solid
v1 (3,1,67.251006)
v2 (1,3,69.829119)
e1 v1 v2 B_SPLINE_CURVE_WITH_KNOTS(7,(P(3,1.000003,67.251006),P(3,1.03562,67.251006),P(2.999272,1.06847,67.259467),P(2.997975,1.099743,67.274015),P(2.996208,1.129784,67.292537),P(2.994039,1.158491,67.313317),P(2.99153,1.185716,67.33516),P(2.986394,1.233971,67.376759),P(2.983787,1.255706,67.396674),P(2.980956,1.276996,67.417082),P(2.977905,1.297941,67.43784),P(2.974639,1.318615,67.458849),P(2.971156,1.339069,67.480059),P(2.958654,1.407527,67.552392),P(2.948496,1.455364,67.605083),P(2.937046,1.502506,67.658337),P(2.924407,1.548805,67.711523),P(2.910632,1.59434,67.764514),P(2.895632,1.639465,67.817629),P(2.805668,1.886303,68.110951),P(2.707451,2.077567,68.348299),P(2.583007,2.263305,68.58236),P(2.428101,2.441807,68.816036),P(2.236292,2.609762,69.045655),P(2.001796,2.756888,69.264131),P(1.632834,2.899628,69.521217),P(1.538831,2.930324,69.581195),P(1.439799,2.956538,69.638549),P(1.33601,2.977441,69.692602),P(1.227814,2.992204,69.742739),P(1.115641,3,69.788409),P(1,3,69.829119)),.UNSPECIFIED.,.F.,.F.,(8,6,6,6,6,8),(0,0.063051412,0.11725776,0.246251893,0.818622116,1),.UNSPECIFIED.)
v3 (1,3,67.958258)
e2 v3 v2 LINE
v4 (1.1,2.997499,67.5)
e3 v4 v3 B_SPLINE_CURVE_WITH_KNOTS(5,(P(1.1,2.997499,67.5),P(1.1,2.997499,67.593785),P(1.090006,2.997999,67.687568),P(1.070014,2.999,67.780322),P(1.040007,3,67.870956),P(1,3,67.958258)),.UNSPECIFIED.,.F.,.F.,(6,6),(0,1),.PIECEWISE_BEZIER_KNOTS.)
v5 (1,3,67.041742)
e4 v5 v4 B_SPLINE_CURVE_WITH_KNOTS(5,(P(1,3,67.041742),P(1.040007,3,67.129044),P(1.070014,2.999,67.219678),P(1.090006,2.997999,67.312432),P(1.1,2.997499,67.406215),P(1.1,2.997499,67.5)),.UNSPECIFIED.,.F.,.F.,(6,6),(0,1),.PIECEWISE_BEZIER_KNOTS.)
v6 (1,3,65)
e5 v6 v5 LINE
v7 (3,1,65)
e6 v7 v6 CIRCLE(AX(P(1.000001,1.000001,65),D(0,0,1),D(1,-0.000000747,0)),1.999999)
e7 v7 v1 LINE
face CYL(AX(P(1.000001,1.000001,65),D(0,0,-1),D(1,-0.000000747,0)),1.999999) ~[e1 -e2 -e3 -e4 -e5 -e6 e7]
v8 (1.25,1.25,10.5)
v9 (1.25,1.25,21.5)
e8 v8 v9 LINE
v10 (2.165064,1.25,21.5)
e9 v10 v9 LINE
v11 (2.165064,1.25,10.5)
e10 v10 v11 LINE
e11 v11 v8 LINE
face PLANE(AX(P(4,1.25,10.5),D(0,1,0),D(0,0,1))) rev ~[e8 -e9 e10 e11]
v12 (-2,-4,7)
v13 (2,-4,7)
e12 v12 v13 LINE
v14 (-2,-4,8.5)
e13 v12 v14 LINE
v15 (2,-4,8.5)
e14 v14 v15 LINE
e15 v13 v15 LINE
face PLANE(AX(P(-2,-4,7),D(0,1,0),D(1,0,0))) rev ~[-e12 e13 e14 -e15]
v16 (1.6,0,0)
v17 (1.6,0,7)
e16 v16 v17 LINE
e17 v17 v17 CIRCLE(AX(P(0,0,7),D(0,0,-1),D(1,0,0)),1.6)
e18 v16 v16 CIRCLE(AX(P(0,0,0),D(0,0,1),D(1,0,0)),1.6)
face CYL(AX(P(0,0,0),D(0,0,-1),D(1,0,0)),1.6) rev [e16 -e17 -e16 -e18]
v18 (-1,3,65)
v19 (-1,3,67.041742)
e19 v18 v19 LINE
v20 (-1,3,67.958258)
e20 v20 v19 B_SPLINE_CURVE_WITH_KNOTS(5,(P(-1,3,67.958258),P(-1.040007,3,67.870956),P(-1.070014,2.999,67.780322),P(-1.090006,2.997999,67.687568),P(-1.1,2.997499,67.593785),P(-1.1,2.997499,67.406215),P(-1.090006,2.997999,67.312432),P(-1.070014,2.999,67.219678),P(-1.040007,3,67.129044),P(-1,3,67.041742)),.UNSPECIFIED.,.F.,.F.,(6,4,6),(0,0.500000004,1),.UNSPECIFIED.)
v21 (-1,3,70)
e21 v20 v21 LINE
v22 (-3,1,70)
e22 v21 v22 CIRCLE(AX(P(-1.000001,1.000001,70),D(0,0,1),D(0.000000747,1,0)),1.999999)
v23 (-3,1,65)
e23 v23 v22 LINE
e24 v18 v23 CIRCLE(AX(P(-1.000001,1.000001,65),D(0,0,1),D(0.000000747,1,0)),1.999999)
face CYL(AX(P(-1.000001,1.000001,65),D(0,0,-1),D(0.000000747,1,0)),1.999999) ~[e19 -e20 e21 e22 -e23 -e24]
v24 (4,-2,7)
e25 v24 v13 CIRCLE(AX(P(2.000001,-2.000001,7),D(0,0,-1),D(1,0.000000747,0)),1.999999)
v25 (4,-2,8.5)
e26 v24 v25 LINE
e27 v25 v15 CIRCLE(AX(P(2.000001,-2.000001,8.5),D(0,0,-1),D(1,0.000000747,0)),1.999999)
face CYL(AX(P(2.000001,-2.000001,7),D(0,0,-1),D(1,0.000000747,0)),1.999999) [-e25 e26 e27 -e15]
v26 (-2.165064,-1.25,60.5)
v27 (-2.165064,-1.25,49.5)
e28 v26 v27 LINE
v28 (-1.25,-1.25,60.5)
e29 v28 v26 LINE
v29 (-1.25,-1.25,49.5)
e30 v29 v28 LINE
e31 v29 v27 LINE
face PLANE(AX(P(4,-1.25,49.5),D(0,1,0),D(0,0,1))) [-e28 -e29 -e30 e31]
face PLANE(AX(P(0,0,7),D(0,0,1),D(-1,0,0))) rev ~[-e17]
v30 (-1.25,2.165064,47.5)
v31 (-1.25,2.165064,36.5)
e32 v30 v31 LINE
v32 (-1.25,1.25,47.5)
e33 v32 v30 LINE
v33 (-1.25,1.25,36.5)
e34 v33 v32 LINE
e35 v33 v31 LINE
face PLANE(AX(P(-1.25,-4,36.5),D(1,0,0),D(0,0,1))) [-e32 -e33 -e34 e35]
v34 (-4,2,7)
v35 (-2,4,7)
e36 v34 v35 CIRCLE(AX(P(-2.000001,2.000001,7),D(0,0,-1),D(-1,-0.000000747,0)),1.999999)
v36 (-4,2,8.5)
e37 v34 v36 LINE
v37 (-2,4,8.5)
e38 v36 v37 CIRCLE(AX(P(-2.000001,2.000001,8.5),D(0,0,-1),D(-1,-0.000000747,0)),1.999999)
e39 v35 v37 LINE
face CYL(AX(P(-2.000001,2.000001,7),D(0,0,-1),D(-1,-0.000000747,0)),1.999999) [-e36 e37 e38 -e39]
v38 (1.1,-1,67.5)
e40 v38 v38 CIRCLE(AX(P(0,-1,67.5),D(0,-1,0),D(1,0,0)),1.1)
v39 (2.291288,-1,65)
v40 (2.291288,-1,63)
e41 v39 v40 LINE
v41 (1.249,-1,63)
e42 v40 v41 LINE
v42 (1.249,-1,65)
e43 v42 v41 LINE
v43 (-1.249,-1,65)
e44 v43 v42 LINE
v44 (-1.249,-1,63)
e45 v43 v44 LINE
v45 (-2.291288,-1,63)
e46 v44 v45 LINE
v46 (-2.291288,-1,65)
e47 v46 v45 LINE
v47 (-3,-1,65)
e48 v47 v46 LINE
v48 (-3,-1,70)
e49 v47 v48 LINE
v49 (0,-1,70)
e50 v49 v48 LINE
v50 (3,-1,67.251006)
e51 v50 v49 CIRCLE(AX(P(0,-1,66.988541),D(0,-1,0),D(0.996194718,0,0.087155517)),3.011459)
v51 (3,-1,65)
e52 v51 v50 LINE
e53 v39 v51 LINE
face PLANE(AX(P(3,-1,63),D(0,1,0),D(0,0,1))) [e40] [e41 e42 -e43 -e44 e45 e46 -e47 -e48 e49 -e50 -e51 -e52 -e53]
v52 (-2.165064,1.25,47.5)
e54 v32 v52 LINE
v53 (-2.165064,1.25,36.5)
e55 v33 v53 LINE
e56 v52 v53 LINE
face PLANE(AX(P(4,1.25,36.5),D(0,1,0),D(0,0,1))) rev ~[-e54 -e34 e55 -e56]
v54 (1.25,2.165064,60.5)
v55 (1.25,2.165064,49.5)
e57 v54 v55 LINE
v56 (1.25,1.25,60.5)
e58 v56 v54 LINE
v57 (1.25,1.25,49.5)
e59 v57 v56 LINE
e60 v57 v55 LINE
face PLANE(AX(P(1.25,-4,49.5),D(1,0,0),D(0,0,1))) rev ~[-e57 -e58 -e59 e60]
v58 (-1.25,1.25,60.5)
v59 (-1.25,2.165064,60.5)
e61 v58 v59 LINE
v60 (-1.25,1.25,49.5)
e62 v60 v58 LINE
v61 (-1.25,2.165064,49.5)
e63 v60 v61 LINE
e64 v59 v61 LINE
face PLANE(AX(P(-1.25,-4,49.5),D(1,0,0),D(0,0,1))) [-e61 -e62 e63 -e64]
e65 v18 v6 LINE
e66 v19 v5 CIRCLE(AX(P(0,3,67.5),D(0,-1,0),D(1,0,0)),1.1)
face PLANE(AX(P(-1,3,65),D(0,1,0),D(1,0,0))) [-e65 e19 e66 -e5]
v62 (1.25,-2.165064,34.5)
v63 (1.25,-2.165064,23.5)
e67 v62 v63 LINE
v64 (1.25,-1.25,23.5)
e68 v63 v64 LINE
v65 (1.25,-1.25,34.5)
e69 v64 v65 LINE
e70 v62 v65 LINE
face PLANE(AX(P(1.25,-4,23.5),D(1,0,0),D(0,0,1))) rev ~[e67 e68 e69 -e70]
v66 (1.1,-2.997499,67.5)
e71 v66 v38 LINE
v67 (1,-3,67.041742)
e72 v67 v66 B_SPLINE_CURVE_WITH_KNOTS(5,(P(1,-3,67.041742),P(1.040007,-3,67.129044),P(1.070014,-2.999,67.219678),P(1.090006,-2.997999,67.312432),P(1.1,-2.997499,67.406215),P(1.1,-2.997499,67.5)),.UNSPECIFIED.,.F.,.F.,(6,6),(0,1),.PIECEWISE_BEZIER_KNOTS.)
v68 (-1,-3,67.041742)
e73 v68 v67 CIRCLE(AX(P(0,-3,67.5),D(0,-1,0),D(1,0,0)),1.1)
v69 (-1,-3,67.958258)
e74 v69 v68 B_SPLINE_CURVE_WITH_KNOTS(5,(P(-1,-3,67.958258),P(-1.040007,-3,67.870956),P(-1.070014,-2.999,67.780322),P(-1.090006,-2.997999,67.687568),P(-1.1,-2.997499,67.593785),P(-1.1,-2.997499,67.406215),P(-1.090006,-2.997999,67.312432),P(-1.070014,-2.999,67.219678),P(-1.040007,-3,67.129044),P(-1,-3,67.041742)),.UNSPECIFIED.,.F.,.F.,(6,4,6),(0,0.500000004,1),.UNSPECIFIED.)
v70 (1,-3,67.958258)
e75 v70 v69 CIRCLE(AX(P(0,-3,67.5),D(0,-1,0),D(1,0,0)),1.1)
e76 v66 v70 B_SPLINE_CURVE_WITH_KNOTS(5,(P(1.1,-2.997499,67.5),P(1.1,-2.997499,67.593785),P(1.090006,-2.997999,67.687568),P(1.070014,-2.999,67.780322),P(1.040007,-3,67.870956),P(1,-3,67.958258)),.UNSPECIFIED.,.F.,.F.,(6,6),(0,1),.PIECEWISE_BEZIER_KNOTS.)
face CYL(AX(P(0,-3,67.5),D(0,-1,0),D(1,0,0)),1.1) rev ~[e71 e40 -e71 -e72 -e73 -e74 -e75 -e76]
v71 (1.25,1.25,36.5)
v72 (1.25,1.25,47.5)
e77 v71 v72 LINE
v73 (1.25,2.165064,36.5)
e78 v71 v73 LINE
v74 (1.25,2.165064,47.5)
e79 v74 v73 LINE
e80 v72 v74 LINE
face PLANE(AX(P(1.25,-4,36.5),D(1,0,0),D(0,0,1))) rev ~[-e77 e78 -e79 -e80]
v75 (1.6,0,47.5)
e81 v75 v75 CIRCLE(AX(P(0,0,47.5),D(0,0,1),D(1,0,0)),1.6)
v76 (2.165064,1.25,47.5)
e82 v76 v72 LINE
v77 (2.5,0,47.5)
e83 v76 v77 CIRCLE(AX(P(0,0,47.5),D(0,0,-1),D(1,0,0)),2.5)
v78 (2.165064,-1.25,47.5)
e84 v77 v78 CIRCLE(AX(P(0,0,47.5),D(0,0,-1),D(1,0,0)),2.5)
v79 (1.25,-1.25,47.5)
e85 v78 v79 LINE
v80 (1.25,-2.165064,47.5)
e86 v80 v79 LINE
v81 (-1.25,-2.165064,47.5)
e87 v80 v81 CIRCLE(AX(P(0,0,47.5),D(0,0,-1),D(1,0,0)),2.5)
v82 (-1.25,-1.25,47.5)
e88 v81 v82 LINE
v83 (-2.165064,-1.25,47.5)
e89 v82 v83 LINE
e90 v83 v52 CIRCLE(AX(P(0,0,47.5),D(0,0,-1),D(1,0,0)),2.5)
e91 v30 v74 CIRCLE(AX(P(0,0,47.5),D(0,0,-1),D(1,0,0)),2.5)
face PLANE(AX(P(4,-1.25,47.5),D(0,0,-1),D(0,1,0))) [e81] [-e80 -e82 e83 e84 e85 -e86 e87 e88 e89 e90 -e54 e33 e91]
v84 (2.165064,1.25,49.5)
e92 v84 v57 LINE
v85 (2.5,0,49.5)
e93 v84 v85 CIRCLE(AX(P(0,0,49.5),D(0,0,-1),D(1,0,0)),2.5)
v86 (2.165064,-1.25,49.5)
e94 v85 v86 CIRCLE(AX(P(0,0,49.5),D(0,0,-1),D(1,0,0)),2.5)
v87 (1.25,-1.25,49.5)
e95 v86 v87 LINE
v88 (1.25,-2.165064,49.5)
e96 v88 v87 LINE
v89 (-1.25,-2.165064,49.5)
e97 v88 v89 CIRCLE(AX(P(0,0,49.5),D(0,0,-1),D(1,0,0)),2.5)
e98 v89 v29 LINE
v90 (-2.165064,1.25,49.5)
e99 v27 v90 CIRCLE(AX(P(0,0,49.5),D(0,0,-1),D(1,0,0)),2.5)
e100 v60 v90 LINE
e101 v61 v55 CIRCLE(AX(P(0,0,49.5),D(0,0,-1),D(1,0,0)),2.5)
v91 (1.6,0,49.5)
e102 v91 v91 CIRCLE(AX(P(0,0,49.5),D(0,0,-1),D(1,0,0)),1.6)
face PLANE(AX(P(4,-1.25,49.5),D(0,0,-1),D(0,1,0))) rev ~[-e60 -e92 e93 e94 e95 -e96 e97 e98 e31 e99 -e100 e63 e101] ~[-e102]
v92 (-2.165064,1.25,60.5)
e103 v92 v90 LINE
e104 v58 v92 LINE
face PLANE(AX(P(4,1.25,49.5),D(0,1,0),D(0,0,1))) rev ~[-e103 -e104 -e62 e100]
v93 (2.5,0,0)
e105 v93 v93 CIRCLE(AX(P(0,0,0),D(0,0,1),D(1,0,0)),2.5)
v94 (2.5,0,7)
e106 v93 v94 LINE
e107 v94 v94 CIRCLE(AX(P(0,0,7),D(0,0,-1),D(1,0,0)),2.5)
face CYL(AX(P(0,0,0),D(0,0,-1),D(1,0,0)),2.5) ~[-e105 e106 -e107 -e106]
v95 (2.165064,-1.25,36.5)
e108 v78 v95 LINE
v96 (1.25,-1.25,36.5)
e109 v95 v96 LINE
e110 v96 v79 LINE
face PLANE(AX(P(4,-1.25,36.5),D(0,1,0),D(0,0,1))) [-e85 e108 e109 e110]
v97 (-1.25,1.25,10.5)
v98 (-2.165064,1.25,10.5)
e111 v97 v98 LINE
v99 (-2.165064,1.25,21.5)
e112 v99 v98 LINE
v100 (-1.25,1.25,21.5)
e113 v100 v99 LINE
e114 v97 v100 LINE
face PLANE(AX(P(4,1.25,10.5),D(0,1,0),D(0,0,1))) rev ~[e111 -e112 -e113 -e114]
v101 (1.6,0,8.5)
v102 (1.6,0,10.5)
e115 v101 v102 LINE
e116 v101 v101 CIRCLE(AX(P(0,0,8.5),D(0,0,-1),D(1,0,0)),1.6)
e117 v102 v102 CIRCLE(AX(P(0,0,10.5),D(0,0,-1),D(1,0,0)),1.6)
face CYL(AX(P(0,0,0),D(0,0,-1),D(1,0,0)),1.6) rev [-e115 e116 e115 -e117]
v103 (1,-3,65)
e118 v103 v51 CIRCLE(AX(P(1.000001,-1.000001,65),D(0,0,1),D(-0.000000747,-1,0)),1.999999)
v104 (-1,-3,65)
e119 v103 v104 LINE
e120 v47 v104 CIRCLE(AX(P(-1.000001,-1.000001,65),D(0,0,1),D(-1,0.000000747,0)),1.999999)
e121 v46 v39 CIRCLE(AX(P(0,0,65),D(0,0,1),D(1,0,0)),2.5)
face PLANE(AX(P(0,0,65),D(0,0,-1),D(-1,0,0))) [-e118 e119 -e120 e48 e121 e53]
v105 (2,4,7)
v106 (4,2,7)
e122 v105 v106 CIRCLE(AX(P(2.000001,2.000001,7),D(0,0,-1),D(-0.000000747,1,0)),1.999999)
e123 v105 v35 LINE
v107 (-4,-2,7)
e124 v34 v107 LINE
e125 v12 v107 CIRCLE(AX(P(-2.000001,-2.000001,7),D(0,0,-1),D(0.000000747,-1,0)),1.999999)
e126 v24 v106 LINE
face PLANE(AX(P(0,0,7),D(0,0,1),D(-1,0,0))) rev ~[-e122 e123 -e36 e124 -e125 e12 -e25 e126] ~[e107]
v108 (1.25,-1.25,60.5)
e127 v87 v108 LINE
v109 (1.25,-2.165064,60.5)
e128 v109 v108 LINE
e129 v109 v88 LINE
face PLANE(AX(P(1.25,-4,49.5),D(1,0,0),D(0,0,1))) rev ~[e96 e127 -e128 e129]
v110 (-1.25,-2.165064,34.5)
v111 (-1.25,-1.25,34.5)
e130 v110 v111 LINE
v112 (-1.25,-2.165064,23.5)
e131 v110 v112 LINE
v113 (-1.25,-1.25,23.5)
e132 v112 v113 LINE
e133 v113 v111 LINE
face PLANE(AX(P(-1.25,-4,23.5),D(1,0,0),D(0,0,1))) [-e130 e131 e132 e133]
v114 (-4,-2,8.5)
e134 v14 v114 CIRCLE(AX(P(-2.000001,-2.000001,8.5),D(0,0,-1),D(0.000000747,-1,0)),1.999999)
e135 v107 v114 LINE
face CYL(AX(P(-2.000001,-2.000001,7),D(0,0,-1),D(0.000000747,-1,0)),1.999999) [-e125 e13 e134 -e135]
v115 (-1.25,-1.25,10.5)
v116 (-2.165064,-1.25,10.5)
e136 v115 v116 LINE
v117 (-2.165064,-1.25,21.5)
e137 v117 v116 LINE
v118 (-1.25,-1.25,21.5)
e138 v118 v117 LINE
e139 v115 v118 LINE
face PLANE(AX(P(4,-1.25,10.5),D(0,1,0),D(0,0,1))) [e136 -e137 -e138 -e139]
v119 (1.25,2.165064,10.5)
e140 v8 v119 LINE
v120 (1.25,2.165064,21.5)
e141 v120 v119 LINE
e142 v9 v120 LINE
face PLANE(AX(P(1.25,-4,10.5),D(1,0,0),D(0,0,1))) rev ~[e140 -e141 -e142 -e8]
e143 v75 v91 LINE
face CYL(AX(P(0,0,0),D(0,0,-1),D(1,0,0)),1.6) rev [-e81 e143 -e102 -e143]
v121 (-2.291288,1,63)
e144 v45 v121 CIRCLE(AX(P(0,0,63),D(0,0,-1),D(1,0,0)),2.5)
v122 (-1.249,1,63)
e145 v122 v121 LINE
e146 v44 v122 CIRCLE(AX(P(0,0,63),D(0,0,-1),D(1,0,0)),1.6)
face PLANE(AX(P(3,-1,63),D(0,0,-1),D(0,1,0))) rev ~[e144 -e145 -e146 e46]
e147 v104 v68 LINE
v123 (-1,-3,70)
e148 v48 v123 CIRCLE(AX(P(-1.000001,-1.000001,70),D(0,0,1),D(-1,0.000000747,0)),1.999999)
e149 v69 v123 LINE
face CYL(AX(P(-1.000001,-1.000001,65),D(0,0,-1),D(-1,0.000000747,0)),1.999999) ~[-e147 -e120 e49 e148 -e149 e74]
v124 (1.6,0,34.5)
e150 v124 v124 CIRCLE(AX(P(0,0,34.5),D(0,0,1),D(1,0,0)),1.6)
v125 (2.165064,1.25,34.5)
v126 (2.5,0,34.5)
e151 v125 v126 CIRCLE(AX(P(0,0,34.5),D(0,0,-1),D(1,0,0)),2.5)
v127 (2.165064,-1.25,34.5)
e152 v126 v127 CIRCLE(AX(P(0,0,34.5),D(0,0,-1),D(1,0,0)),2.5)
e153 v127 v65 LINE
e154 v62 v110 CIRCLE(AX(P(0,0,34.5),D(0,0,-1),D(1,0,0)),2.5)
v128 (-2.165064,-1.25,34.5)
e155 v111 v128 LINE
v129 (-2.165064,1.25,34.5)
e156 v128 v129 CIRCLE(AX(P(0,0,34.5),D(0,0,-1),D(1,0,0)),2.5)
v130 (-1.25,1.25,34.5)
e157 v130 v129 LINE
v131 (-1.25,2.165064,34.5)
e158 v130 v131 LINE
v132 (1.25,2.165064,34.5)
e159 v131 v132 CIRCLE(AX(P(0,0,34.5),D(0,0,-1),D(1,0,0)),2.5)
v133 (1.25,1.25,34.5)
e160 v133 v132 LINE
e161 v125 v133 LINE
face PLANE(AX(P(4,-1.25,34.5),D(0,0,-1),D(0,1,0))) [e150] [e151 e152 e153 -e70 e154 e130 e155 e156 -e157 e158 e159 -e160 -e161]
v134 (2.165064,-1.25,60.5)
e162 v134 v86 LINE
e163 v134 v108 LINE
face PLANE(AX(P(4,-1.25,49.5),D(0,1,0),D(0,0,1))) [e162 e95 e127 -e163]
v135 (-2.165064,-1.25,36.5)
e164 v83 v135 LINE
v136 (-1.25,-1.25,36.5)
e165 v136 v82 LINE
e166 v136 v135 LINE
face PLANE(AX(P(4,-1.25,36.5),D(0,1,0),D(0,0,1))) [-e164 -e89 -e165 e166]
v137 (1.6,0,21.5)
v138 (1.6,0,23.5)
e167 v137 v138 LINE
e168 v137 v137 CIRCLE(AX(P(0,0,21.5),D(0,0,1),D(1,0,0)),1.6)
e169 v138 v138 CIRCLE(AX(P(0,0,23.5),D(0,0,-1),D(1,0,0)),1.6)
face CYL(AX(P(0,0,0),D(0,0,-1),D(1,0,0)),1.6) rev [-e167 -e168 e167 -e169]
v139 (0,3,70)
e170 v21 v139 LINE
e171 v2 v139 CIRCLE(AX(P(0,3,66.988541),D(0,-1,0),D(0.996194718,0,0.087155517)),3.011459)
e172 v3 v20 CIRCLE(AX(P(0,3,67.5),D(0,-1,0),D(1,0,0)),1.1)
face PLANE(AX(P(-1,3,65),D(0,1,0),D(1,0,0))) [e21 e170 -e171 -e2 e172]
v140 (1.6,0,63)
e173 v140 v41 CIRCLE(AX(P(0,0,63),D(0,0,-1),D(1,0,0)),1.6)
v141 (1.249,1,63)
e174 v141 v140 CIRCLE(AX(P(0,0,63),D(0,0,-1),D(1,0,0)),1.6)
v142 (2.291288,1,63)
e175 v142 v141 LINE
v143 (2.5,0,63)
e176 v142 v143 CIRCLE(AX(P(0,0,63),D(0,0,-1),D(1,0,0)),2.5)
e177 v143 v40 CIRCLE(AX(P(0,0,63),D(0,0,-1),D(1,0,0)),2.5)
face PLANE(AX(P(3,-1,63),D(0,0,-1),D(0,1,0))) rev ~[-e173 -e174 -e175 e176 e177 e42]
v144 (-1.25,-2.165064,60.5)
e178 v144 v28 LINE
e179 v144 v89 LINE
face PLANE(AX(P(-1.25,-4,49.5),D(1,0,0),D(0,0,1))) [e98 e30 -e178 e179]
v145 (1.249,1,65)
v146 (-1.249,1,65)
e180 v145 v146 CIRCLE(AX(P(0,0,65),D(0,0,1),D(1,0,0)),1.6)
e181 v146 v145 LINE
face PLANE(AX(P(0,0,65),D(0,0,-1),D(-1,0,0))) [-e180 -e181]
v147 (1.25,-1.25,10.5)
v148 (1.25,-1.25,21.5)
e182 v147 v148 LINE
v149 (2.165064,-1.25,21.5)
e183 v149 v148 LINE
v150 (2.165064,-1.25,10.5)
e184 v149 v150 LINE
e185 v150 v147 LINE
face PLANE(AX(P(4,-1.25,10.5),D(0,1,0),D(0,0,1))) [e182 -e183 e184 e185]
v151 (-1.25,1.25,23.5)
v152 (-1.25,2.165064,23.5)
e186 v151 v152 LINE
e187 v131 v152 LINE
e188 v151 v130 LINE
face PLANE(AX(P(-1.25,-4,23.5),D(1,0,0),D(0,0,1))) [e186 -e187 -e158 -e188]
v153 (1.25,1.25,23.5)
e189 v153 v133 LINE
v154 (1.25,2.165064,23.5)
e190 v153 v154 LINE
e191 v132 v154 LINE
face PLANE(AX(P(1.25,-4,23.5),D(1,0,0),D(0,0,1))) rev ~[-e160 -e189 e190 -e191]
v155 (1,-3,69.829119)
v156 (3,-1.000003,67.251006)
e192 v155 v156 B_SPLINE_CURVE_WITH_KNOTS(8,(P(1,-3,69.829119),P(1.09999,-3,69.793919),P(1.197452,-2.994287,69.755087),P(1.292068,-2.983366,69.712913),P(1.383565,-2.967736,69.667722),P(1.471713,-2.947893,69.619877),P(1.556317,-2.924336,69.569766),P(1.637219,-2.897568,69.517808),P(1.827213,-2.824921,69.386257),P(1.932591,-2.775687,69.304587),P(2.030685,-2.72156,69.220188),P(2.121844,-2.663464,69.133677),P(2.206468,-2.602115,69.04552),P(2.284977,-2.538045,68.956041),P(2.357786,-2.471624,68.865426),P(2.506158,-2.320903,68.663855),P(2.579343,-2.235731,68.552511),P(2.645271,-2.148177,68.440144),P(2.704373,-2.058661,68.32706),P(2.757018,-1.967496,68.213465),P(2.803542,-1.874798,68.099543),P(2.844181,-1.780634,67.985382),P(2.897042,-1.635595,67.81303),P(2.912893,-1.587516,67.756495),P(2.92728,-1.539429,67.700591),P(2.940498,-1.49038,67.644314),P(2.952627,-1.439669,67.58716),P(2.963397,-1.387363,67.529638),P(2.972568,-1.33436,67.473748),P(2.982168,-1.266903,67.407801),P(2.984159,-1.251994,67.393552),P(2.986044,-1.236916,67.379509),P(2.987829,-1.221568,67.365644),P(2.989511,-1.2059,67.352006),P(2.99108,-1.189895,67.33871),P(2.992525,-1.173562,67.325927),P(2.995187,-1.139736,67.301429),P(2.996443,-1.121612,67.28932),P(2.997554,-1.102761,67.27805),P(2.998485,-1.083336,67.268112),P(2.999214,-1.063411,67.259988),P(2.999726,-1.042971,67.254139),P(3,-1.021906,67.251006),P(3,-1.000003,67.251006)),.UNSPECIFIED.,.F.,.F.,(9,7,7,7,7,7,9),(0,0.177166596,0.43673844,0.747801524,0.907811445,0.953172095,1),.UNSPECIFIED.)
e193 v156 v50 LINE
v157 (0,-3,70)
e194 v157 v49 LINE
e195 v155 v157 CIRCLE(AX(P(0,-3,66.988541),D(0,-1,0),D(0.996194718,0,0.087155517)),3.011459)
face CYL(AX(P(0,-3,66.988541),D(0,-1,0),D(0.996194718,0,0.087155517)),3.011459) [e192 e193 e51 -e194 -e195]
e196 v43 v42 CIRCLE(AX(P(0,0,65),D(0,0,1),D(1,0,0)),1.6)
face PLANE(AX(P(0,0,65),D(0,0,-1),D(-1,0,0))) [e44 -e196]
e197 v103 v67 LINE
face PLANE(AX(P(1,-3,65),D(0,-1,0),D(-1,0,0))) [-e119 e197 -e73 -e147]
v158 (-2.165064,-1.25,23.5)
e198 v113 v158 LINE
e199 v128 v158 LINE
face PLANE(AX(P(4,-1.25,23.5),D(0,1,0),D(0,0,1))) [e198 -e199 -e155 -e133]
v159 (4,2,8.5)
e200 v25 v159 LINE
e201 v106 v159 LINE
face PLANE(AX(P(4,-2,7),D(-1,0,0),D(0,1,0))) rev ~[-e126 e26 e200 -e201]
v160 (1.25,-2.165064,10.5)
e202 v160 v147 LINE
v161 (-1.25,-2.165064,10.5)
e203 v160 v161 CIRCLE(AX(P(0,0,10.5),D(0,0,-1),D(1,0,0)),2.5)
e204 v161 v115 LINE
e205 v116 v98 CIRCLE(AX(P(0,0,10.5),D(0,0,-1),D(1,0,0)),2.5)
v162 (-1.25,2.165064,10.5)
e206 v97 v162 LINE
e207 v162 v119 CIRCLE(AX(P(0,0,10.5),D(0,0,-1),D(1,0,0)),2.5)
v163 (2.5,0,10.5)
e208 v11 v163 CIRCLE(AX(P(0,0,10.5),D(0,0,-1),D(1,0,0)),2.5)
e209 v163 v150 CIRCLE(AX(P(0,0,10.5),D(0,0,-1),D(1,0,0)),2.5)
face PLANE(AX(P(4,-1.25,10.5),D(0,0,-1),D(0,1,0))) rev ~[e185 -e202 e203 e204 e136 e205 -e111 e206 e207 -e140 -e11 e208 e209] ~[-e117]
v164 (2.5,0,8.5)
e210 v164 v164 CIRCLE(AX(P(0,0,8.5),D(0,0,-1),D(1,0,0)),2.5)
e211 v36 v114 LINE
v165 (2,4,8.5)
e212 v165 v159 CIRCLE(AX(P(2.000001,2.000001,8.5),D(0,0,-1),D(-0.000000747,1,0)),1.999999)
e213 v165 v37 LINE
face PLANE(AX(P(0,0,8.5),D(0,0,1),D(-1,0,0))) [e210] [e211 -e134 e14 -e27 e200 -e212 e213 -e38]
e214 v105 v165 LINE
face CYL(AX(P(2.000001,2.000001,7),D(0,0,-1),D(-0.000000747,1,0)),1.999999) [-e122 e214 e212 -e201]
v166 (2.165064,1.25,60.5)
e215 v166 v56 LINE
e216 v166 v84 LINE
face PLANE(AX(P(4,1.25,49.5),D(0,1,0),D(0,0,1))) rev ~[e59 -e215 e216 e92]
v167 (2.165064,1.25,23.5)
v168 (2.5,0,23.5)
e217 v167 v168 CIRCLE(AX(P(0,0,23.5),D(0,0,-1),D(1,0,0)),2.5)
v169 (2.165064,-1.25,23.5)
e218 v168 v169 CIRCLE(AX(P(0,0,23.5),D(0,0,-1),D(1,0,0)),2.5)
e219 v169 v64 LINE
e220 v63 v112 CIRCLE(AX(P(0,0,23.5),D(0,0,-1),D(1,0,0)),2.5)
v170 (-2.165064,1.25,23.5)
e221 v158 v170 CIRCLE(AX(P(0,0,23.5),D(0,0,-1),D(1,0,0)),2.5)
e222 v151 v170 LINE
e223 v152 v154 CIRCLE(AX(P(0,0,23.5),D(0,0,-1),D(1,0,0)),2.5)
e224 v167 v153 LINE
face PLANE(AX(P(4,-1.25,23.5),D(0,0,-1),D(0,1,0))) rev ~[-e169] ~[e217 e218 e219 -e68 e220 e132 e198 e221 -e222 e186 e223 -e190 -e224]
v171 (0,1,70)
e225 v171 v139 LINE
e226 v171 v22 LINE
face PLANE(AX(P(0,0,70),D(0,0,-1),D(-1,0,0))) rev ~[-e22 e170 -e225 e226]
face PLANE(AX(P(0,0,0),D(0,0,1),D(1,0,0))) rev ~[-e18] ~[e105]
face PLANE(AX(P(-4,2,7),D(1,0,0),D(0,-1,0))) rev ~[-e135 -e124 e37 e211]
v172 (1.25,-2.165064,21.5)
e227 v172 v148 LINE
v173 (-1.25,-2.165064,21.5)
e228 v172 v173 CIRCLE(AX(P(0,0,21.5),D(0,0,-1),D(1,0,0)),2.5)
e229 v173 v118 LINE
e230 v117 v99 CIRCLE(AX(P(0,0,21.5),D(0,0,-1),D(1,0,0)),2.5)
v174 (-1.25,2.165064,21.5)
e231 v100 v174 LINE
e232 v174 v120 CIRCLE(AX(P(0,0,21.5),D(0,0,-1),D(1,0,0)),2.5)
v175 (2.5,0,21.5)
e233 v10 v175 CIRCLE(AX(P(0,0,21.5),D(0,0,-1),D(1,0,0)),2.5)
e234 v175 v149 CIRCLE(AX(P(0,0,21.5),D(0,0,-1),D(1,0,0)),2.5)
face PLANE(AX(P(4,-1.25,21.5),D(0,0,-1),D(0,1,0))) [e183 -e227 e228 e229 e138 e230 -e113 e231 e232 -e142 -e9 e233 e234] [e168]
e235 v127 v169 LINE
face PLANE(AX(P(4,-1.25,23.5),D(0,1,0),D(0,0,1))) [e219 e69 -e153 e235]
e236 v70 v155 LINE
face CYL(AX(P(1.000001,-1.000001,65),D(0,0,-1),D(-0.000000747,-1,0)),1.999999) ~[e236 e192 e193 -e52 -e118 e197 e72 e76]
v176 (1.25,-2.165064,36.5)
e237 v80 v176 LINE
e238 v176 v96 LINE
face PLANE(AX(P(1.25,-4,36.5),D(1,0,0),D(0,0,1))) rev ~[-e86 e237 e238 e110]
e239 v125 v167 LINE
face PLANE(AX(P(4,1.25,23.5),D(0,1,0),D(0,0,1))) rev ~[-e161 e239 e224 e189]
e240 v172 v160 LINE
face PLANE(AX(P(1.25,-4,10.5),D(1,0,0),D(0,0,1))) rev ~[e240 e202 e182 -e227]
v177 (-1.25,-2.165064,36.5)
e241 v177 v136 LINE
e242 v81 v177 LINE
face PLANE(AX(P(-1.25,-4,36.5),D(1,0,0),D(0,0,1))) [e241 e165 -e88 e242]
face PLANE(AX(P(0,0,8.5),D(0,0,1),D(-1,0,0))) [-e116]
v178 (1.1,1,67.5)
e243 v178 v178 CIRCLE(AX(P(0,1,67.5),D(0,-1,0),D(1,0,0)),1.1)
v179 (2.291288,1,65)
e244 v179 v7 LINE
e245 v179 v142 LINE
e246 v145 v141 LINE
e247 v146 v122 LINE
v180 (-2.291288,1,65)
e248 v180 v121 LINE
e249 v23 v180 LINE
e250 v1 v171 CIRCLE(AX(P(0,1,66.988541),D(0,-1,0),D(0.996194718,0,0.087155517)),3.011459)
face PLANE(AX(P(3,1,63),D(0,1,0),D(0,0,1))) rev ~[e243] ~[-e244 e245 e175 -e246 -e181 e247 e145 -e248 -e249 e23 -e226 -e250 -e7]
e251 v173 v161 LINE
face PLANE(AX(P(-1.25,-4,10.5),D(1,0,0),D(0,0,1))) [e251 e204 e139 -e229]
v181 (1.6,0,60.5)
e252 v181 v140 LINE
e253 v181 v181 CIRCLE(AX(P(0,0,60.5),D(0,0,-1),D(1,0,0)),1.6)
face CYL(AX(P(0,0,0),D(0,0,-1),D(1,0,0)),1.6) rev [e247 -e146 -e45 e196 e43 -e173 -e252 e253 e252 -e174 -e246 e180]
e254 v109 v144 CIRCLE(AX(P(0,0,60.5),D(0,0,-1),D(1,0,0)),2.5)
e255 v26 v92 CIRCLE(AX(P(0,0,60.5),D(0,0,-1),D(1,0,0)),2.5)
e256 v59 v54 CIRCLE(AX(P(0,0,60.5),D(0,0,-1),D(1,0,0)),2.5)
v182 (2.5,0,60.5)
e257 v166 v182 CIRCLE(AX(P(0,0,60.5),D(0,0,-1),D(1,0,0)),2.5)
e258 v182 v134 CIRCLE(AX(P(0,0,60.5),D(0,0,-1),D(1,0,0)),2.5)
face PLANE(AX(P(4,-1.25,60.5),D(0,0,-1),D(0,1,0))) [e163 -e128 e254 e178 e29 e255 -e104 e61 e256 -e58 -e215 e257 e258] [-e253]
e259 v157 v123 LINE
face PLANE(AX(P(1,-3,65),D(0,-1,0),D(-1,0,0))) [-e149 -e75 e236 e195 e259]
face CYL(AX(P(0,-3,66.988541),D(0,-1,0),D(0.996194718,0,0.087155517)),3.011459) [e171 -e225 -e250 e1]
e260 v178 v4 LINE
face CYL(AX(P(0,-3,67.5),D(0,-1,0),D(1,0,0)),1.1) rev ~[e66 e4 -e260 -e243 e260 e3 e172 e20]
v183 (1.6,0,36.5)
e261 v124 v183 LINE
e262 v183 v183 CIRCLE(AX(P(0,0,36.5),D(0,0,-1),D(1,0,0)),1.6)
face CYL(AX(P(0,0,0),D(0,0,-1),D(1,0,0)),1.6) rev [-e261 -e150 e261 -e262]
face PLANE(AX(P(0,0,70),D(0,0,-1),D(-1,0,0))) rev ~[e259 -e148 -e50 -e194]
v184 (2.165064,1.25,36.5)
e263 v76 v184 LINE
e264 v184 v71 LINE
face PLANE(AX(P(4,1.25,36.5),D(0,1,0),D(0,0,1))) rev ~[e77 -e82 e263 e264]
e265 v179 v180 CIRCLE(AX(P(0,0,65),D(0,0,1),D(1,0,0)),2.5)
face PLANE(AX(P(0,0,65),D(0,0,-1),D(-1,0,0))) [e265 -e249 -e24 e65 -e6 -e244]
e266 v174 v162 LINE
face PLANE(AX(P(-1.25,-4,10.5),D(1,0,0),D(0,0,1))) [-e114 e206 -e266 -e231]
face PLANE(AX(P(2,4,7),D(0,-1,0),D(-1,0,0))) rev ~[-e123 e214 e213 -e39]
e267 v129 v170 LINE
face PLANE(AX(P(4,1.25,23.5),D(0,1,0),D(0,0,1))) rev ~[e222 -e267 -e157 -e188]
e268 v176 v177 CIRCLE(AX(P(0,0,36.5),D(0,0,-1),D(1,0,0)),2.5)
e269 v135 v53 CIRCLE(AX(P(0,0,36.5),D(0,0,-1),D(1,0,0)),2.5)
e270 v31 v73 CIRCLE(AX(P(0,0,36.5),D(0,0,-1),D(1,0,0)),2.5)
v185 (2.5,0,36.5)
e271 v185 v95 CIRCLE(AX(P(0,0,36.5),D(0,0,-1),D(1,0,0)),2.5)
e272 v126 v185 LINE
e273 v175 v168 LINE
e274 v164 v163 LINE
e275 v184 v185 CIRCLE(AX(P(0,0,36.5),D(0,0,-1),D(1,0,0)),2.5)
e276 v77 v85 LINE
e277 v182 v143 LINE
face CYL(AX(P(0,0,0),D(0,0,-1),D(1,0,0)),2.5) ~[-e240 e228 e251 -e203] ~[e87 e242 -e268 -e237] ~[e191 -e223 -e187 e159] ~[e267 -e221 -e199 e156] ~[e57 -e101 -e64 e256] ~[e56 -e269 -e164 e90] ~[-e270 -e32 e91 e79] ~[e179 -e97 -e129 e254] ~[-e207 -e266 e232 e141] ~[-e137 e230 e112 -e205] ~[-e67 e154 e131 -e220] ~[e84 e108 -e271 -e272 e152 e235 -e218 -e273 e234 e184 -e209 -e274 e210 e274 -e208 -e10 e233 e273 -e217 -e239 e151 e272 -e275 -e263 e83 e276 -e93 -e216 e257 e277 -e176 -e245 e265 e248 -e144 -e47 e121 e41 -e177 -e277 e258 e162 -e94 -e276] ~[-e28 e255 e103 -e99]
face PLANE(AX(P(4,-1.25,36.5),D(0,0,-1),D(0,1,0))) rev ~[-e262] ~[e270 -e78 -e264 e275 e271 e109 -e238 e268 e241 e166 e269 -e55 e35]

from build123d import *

# Parameters (mm, degrees)
SKETCH_R        = 2.5
SKETCH_R_2      = 1.6
PAD_DEPTH       = 65
PAD001_DEPTH    = 1.5
PAD002_DEPTH    = 5
SKETCH003_W     = 2
SKETCH003_H     = 7
POCKET_DEPTH    = 7.001
SKETCH004_R     = 1.1
POCKET001_DEPTH = 7.001
SKETCH006_W     = 2.5
SKETCH006_H     = 11
POCKET002_DEPTH = 8.001
SKETCH005_W     = 2.5
SKETCH005_H     = 11
POCKET003_DEPTH = 8.001
POCKET004_DEPTH = 7.001


with BuildPart() as part:
    # Sketch → Pad (new body)
    with BuildSketch(Plane.XY):
        Circle(SKETCH_R)
        Circle(SKETCH_R_2, mode=Mode.SUBTRACT)
    extrude(amount=PAD_DEPTH)

    # Sketch001 (on Face3 of Pad) → Pad001 (join)
    with BuildSketch(Plane(origin=(0, 0, 7), x_dir=(1, 0, 0), z_dir=(0, 0, -1))):
        with BuildLine():
            Line((-2, 4), (2, 4))
            ThreePointArc((4, 2), (3.414214, 3.414214), (2, 4))
            Line((4, 2), (4, -2))
            ThreePointArc((2, -4), (3.414214, -3.414214), (4, -2))
            Line((2, -4), (-2, -4))
            ThreePointArc((-4, -2), (-3.414214, -3.414214), (-2, -4))
            Line((-4, -2), (-4, 2))
            ThreePointArc((-2, 4), (-3.414214, 3.414214), (-4, 2))
        make_face()
    extrude(amount=-PAD001_DEPTH)

    # Sketch002 (on Face16 of Pad001) → Pad002 (join)
    with BuildSketch(Plane.XY.offset(65)):
        with BuildLine():
            Line((-1, 3), (1, 3))
            ThreePointArc((3, 1), (2.414214, 2.414214), (1, 3))
            Line((3, 1), (3, -1))
            ThreePointArc((1, -3), (2.414214, -2.414214), (3, -1))
            Line((1, -3), (-1, -3))
            ThreePointArc((-3, -1), (-2.414214, -2.414214), (-1, -3))
            Line((-3, -1), (-3, 1))
            ThreePointArc((-1, 3), (-2.414214, 2.414214), (-3, 1))
        make_face()
    extrude(amount=PAD002_DEPTH)

    # Sketch003 (on Face10 of Pad002) → Pocket (cut, through all)
    with BuildSketch(Plane.YZ.offset(3)):
        with Locations((0, 66.5)):
            Rectangle(SKETCH003_W, SKETCH003_H)
    extrude(amount=-POCKET_DEPTH, mode=Mode.SUBTRACT)

    # Sketch004 (on Face3 of Pocket) → Pocket001 (cut, through all)
    with BuildSketch(Plane.XZ.offset(3)):
        with Locations((0, 67.5)):
            Circle(SKETCH004_R)
    extrude(amount=-POCKET001_DEPTH, mode=Mode.SUBTRACT)

    # Sketch006 (on Face28 of Pocket001) → Pocket002 (cut, through all)
    with BuildSketch(Plane.XZ.offset(4)):
        with Locations((0, 16)):
            Rectangle(SKETCH006_W, SKETCH006_H)
        with Locations((0, 29)):
            Rectangle(SKETCH006_W, SKETCH006_H)
        with Locations((0, 42)):
            Rectangle(SKETCH006_W, SKETCH006_H)
        with Locations((0, 55)):
            Rectangle(SKETCH006_W, SKETCH006_H)
    extrude(amount=-POCKET002_DEPTH, mode=Mode.SUBTRACT)

    # Sketch005 (on Face31 of Pocket001) → Pocket003 (cut, through all)
    with BuildSketch(Plane.YZ.offset(4)):
        with Locations((0, 16)):
            Rectangle(SKETCH005_W, SKETCH005_H)
        with Locations((0, 29)):
            Rectangle(SKETCH005_W, SKETCH005_H)
        with Locations((0, 42)):
            Rectangle(SKETCH005_W, SKETCH005_H)
        with Locations((0, 55)):
            Rectangle(SKETCH005_W, SKETCH005_H)
    extrude(amount=-POCKET003_DEPTH, mode=Mode.SUBTRACT)

    # Sketch007 (on Face5 of Pocket003) → Pocket004 (cut, through all)
    with BuildSketch(Plane.XZ.offset(3)):
        with BuildLine():
            ThreePointArc((3, 67.251006), (2.034513, 69.208821), (0, 70))
            Line((0, 70), (3, 70))
            Line((3, 67.251006), (3, 70))
        make_face()
    extrude(amount=-POCKET004_DEPTH, mode=Mode.SUBTRACT)


solid = part.part
